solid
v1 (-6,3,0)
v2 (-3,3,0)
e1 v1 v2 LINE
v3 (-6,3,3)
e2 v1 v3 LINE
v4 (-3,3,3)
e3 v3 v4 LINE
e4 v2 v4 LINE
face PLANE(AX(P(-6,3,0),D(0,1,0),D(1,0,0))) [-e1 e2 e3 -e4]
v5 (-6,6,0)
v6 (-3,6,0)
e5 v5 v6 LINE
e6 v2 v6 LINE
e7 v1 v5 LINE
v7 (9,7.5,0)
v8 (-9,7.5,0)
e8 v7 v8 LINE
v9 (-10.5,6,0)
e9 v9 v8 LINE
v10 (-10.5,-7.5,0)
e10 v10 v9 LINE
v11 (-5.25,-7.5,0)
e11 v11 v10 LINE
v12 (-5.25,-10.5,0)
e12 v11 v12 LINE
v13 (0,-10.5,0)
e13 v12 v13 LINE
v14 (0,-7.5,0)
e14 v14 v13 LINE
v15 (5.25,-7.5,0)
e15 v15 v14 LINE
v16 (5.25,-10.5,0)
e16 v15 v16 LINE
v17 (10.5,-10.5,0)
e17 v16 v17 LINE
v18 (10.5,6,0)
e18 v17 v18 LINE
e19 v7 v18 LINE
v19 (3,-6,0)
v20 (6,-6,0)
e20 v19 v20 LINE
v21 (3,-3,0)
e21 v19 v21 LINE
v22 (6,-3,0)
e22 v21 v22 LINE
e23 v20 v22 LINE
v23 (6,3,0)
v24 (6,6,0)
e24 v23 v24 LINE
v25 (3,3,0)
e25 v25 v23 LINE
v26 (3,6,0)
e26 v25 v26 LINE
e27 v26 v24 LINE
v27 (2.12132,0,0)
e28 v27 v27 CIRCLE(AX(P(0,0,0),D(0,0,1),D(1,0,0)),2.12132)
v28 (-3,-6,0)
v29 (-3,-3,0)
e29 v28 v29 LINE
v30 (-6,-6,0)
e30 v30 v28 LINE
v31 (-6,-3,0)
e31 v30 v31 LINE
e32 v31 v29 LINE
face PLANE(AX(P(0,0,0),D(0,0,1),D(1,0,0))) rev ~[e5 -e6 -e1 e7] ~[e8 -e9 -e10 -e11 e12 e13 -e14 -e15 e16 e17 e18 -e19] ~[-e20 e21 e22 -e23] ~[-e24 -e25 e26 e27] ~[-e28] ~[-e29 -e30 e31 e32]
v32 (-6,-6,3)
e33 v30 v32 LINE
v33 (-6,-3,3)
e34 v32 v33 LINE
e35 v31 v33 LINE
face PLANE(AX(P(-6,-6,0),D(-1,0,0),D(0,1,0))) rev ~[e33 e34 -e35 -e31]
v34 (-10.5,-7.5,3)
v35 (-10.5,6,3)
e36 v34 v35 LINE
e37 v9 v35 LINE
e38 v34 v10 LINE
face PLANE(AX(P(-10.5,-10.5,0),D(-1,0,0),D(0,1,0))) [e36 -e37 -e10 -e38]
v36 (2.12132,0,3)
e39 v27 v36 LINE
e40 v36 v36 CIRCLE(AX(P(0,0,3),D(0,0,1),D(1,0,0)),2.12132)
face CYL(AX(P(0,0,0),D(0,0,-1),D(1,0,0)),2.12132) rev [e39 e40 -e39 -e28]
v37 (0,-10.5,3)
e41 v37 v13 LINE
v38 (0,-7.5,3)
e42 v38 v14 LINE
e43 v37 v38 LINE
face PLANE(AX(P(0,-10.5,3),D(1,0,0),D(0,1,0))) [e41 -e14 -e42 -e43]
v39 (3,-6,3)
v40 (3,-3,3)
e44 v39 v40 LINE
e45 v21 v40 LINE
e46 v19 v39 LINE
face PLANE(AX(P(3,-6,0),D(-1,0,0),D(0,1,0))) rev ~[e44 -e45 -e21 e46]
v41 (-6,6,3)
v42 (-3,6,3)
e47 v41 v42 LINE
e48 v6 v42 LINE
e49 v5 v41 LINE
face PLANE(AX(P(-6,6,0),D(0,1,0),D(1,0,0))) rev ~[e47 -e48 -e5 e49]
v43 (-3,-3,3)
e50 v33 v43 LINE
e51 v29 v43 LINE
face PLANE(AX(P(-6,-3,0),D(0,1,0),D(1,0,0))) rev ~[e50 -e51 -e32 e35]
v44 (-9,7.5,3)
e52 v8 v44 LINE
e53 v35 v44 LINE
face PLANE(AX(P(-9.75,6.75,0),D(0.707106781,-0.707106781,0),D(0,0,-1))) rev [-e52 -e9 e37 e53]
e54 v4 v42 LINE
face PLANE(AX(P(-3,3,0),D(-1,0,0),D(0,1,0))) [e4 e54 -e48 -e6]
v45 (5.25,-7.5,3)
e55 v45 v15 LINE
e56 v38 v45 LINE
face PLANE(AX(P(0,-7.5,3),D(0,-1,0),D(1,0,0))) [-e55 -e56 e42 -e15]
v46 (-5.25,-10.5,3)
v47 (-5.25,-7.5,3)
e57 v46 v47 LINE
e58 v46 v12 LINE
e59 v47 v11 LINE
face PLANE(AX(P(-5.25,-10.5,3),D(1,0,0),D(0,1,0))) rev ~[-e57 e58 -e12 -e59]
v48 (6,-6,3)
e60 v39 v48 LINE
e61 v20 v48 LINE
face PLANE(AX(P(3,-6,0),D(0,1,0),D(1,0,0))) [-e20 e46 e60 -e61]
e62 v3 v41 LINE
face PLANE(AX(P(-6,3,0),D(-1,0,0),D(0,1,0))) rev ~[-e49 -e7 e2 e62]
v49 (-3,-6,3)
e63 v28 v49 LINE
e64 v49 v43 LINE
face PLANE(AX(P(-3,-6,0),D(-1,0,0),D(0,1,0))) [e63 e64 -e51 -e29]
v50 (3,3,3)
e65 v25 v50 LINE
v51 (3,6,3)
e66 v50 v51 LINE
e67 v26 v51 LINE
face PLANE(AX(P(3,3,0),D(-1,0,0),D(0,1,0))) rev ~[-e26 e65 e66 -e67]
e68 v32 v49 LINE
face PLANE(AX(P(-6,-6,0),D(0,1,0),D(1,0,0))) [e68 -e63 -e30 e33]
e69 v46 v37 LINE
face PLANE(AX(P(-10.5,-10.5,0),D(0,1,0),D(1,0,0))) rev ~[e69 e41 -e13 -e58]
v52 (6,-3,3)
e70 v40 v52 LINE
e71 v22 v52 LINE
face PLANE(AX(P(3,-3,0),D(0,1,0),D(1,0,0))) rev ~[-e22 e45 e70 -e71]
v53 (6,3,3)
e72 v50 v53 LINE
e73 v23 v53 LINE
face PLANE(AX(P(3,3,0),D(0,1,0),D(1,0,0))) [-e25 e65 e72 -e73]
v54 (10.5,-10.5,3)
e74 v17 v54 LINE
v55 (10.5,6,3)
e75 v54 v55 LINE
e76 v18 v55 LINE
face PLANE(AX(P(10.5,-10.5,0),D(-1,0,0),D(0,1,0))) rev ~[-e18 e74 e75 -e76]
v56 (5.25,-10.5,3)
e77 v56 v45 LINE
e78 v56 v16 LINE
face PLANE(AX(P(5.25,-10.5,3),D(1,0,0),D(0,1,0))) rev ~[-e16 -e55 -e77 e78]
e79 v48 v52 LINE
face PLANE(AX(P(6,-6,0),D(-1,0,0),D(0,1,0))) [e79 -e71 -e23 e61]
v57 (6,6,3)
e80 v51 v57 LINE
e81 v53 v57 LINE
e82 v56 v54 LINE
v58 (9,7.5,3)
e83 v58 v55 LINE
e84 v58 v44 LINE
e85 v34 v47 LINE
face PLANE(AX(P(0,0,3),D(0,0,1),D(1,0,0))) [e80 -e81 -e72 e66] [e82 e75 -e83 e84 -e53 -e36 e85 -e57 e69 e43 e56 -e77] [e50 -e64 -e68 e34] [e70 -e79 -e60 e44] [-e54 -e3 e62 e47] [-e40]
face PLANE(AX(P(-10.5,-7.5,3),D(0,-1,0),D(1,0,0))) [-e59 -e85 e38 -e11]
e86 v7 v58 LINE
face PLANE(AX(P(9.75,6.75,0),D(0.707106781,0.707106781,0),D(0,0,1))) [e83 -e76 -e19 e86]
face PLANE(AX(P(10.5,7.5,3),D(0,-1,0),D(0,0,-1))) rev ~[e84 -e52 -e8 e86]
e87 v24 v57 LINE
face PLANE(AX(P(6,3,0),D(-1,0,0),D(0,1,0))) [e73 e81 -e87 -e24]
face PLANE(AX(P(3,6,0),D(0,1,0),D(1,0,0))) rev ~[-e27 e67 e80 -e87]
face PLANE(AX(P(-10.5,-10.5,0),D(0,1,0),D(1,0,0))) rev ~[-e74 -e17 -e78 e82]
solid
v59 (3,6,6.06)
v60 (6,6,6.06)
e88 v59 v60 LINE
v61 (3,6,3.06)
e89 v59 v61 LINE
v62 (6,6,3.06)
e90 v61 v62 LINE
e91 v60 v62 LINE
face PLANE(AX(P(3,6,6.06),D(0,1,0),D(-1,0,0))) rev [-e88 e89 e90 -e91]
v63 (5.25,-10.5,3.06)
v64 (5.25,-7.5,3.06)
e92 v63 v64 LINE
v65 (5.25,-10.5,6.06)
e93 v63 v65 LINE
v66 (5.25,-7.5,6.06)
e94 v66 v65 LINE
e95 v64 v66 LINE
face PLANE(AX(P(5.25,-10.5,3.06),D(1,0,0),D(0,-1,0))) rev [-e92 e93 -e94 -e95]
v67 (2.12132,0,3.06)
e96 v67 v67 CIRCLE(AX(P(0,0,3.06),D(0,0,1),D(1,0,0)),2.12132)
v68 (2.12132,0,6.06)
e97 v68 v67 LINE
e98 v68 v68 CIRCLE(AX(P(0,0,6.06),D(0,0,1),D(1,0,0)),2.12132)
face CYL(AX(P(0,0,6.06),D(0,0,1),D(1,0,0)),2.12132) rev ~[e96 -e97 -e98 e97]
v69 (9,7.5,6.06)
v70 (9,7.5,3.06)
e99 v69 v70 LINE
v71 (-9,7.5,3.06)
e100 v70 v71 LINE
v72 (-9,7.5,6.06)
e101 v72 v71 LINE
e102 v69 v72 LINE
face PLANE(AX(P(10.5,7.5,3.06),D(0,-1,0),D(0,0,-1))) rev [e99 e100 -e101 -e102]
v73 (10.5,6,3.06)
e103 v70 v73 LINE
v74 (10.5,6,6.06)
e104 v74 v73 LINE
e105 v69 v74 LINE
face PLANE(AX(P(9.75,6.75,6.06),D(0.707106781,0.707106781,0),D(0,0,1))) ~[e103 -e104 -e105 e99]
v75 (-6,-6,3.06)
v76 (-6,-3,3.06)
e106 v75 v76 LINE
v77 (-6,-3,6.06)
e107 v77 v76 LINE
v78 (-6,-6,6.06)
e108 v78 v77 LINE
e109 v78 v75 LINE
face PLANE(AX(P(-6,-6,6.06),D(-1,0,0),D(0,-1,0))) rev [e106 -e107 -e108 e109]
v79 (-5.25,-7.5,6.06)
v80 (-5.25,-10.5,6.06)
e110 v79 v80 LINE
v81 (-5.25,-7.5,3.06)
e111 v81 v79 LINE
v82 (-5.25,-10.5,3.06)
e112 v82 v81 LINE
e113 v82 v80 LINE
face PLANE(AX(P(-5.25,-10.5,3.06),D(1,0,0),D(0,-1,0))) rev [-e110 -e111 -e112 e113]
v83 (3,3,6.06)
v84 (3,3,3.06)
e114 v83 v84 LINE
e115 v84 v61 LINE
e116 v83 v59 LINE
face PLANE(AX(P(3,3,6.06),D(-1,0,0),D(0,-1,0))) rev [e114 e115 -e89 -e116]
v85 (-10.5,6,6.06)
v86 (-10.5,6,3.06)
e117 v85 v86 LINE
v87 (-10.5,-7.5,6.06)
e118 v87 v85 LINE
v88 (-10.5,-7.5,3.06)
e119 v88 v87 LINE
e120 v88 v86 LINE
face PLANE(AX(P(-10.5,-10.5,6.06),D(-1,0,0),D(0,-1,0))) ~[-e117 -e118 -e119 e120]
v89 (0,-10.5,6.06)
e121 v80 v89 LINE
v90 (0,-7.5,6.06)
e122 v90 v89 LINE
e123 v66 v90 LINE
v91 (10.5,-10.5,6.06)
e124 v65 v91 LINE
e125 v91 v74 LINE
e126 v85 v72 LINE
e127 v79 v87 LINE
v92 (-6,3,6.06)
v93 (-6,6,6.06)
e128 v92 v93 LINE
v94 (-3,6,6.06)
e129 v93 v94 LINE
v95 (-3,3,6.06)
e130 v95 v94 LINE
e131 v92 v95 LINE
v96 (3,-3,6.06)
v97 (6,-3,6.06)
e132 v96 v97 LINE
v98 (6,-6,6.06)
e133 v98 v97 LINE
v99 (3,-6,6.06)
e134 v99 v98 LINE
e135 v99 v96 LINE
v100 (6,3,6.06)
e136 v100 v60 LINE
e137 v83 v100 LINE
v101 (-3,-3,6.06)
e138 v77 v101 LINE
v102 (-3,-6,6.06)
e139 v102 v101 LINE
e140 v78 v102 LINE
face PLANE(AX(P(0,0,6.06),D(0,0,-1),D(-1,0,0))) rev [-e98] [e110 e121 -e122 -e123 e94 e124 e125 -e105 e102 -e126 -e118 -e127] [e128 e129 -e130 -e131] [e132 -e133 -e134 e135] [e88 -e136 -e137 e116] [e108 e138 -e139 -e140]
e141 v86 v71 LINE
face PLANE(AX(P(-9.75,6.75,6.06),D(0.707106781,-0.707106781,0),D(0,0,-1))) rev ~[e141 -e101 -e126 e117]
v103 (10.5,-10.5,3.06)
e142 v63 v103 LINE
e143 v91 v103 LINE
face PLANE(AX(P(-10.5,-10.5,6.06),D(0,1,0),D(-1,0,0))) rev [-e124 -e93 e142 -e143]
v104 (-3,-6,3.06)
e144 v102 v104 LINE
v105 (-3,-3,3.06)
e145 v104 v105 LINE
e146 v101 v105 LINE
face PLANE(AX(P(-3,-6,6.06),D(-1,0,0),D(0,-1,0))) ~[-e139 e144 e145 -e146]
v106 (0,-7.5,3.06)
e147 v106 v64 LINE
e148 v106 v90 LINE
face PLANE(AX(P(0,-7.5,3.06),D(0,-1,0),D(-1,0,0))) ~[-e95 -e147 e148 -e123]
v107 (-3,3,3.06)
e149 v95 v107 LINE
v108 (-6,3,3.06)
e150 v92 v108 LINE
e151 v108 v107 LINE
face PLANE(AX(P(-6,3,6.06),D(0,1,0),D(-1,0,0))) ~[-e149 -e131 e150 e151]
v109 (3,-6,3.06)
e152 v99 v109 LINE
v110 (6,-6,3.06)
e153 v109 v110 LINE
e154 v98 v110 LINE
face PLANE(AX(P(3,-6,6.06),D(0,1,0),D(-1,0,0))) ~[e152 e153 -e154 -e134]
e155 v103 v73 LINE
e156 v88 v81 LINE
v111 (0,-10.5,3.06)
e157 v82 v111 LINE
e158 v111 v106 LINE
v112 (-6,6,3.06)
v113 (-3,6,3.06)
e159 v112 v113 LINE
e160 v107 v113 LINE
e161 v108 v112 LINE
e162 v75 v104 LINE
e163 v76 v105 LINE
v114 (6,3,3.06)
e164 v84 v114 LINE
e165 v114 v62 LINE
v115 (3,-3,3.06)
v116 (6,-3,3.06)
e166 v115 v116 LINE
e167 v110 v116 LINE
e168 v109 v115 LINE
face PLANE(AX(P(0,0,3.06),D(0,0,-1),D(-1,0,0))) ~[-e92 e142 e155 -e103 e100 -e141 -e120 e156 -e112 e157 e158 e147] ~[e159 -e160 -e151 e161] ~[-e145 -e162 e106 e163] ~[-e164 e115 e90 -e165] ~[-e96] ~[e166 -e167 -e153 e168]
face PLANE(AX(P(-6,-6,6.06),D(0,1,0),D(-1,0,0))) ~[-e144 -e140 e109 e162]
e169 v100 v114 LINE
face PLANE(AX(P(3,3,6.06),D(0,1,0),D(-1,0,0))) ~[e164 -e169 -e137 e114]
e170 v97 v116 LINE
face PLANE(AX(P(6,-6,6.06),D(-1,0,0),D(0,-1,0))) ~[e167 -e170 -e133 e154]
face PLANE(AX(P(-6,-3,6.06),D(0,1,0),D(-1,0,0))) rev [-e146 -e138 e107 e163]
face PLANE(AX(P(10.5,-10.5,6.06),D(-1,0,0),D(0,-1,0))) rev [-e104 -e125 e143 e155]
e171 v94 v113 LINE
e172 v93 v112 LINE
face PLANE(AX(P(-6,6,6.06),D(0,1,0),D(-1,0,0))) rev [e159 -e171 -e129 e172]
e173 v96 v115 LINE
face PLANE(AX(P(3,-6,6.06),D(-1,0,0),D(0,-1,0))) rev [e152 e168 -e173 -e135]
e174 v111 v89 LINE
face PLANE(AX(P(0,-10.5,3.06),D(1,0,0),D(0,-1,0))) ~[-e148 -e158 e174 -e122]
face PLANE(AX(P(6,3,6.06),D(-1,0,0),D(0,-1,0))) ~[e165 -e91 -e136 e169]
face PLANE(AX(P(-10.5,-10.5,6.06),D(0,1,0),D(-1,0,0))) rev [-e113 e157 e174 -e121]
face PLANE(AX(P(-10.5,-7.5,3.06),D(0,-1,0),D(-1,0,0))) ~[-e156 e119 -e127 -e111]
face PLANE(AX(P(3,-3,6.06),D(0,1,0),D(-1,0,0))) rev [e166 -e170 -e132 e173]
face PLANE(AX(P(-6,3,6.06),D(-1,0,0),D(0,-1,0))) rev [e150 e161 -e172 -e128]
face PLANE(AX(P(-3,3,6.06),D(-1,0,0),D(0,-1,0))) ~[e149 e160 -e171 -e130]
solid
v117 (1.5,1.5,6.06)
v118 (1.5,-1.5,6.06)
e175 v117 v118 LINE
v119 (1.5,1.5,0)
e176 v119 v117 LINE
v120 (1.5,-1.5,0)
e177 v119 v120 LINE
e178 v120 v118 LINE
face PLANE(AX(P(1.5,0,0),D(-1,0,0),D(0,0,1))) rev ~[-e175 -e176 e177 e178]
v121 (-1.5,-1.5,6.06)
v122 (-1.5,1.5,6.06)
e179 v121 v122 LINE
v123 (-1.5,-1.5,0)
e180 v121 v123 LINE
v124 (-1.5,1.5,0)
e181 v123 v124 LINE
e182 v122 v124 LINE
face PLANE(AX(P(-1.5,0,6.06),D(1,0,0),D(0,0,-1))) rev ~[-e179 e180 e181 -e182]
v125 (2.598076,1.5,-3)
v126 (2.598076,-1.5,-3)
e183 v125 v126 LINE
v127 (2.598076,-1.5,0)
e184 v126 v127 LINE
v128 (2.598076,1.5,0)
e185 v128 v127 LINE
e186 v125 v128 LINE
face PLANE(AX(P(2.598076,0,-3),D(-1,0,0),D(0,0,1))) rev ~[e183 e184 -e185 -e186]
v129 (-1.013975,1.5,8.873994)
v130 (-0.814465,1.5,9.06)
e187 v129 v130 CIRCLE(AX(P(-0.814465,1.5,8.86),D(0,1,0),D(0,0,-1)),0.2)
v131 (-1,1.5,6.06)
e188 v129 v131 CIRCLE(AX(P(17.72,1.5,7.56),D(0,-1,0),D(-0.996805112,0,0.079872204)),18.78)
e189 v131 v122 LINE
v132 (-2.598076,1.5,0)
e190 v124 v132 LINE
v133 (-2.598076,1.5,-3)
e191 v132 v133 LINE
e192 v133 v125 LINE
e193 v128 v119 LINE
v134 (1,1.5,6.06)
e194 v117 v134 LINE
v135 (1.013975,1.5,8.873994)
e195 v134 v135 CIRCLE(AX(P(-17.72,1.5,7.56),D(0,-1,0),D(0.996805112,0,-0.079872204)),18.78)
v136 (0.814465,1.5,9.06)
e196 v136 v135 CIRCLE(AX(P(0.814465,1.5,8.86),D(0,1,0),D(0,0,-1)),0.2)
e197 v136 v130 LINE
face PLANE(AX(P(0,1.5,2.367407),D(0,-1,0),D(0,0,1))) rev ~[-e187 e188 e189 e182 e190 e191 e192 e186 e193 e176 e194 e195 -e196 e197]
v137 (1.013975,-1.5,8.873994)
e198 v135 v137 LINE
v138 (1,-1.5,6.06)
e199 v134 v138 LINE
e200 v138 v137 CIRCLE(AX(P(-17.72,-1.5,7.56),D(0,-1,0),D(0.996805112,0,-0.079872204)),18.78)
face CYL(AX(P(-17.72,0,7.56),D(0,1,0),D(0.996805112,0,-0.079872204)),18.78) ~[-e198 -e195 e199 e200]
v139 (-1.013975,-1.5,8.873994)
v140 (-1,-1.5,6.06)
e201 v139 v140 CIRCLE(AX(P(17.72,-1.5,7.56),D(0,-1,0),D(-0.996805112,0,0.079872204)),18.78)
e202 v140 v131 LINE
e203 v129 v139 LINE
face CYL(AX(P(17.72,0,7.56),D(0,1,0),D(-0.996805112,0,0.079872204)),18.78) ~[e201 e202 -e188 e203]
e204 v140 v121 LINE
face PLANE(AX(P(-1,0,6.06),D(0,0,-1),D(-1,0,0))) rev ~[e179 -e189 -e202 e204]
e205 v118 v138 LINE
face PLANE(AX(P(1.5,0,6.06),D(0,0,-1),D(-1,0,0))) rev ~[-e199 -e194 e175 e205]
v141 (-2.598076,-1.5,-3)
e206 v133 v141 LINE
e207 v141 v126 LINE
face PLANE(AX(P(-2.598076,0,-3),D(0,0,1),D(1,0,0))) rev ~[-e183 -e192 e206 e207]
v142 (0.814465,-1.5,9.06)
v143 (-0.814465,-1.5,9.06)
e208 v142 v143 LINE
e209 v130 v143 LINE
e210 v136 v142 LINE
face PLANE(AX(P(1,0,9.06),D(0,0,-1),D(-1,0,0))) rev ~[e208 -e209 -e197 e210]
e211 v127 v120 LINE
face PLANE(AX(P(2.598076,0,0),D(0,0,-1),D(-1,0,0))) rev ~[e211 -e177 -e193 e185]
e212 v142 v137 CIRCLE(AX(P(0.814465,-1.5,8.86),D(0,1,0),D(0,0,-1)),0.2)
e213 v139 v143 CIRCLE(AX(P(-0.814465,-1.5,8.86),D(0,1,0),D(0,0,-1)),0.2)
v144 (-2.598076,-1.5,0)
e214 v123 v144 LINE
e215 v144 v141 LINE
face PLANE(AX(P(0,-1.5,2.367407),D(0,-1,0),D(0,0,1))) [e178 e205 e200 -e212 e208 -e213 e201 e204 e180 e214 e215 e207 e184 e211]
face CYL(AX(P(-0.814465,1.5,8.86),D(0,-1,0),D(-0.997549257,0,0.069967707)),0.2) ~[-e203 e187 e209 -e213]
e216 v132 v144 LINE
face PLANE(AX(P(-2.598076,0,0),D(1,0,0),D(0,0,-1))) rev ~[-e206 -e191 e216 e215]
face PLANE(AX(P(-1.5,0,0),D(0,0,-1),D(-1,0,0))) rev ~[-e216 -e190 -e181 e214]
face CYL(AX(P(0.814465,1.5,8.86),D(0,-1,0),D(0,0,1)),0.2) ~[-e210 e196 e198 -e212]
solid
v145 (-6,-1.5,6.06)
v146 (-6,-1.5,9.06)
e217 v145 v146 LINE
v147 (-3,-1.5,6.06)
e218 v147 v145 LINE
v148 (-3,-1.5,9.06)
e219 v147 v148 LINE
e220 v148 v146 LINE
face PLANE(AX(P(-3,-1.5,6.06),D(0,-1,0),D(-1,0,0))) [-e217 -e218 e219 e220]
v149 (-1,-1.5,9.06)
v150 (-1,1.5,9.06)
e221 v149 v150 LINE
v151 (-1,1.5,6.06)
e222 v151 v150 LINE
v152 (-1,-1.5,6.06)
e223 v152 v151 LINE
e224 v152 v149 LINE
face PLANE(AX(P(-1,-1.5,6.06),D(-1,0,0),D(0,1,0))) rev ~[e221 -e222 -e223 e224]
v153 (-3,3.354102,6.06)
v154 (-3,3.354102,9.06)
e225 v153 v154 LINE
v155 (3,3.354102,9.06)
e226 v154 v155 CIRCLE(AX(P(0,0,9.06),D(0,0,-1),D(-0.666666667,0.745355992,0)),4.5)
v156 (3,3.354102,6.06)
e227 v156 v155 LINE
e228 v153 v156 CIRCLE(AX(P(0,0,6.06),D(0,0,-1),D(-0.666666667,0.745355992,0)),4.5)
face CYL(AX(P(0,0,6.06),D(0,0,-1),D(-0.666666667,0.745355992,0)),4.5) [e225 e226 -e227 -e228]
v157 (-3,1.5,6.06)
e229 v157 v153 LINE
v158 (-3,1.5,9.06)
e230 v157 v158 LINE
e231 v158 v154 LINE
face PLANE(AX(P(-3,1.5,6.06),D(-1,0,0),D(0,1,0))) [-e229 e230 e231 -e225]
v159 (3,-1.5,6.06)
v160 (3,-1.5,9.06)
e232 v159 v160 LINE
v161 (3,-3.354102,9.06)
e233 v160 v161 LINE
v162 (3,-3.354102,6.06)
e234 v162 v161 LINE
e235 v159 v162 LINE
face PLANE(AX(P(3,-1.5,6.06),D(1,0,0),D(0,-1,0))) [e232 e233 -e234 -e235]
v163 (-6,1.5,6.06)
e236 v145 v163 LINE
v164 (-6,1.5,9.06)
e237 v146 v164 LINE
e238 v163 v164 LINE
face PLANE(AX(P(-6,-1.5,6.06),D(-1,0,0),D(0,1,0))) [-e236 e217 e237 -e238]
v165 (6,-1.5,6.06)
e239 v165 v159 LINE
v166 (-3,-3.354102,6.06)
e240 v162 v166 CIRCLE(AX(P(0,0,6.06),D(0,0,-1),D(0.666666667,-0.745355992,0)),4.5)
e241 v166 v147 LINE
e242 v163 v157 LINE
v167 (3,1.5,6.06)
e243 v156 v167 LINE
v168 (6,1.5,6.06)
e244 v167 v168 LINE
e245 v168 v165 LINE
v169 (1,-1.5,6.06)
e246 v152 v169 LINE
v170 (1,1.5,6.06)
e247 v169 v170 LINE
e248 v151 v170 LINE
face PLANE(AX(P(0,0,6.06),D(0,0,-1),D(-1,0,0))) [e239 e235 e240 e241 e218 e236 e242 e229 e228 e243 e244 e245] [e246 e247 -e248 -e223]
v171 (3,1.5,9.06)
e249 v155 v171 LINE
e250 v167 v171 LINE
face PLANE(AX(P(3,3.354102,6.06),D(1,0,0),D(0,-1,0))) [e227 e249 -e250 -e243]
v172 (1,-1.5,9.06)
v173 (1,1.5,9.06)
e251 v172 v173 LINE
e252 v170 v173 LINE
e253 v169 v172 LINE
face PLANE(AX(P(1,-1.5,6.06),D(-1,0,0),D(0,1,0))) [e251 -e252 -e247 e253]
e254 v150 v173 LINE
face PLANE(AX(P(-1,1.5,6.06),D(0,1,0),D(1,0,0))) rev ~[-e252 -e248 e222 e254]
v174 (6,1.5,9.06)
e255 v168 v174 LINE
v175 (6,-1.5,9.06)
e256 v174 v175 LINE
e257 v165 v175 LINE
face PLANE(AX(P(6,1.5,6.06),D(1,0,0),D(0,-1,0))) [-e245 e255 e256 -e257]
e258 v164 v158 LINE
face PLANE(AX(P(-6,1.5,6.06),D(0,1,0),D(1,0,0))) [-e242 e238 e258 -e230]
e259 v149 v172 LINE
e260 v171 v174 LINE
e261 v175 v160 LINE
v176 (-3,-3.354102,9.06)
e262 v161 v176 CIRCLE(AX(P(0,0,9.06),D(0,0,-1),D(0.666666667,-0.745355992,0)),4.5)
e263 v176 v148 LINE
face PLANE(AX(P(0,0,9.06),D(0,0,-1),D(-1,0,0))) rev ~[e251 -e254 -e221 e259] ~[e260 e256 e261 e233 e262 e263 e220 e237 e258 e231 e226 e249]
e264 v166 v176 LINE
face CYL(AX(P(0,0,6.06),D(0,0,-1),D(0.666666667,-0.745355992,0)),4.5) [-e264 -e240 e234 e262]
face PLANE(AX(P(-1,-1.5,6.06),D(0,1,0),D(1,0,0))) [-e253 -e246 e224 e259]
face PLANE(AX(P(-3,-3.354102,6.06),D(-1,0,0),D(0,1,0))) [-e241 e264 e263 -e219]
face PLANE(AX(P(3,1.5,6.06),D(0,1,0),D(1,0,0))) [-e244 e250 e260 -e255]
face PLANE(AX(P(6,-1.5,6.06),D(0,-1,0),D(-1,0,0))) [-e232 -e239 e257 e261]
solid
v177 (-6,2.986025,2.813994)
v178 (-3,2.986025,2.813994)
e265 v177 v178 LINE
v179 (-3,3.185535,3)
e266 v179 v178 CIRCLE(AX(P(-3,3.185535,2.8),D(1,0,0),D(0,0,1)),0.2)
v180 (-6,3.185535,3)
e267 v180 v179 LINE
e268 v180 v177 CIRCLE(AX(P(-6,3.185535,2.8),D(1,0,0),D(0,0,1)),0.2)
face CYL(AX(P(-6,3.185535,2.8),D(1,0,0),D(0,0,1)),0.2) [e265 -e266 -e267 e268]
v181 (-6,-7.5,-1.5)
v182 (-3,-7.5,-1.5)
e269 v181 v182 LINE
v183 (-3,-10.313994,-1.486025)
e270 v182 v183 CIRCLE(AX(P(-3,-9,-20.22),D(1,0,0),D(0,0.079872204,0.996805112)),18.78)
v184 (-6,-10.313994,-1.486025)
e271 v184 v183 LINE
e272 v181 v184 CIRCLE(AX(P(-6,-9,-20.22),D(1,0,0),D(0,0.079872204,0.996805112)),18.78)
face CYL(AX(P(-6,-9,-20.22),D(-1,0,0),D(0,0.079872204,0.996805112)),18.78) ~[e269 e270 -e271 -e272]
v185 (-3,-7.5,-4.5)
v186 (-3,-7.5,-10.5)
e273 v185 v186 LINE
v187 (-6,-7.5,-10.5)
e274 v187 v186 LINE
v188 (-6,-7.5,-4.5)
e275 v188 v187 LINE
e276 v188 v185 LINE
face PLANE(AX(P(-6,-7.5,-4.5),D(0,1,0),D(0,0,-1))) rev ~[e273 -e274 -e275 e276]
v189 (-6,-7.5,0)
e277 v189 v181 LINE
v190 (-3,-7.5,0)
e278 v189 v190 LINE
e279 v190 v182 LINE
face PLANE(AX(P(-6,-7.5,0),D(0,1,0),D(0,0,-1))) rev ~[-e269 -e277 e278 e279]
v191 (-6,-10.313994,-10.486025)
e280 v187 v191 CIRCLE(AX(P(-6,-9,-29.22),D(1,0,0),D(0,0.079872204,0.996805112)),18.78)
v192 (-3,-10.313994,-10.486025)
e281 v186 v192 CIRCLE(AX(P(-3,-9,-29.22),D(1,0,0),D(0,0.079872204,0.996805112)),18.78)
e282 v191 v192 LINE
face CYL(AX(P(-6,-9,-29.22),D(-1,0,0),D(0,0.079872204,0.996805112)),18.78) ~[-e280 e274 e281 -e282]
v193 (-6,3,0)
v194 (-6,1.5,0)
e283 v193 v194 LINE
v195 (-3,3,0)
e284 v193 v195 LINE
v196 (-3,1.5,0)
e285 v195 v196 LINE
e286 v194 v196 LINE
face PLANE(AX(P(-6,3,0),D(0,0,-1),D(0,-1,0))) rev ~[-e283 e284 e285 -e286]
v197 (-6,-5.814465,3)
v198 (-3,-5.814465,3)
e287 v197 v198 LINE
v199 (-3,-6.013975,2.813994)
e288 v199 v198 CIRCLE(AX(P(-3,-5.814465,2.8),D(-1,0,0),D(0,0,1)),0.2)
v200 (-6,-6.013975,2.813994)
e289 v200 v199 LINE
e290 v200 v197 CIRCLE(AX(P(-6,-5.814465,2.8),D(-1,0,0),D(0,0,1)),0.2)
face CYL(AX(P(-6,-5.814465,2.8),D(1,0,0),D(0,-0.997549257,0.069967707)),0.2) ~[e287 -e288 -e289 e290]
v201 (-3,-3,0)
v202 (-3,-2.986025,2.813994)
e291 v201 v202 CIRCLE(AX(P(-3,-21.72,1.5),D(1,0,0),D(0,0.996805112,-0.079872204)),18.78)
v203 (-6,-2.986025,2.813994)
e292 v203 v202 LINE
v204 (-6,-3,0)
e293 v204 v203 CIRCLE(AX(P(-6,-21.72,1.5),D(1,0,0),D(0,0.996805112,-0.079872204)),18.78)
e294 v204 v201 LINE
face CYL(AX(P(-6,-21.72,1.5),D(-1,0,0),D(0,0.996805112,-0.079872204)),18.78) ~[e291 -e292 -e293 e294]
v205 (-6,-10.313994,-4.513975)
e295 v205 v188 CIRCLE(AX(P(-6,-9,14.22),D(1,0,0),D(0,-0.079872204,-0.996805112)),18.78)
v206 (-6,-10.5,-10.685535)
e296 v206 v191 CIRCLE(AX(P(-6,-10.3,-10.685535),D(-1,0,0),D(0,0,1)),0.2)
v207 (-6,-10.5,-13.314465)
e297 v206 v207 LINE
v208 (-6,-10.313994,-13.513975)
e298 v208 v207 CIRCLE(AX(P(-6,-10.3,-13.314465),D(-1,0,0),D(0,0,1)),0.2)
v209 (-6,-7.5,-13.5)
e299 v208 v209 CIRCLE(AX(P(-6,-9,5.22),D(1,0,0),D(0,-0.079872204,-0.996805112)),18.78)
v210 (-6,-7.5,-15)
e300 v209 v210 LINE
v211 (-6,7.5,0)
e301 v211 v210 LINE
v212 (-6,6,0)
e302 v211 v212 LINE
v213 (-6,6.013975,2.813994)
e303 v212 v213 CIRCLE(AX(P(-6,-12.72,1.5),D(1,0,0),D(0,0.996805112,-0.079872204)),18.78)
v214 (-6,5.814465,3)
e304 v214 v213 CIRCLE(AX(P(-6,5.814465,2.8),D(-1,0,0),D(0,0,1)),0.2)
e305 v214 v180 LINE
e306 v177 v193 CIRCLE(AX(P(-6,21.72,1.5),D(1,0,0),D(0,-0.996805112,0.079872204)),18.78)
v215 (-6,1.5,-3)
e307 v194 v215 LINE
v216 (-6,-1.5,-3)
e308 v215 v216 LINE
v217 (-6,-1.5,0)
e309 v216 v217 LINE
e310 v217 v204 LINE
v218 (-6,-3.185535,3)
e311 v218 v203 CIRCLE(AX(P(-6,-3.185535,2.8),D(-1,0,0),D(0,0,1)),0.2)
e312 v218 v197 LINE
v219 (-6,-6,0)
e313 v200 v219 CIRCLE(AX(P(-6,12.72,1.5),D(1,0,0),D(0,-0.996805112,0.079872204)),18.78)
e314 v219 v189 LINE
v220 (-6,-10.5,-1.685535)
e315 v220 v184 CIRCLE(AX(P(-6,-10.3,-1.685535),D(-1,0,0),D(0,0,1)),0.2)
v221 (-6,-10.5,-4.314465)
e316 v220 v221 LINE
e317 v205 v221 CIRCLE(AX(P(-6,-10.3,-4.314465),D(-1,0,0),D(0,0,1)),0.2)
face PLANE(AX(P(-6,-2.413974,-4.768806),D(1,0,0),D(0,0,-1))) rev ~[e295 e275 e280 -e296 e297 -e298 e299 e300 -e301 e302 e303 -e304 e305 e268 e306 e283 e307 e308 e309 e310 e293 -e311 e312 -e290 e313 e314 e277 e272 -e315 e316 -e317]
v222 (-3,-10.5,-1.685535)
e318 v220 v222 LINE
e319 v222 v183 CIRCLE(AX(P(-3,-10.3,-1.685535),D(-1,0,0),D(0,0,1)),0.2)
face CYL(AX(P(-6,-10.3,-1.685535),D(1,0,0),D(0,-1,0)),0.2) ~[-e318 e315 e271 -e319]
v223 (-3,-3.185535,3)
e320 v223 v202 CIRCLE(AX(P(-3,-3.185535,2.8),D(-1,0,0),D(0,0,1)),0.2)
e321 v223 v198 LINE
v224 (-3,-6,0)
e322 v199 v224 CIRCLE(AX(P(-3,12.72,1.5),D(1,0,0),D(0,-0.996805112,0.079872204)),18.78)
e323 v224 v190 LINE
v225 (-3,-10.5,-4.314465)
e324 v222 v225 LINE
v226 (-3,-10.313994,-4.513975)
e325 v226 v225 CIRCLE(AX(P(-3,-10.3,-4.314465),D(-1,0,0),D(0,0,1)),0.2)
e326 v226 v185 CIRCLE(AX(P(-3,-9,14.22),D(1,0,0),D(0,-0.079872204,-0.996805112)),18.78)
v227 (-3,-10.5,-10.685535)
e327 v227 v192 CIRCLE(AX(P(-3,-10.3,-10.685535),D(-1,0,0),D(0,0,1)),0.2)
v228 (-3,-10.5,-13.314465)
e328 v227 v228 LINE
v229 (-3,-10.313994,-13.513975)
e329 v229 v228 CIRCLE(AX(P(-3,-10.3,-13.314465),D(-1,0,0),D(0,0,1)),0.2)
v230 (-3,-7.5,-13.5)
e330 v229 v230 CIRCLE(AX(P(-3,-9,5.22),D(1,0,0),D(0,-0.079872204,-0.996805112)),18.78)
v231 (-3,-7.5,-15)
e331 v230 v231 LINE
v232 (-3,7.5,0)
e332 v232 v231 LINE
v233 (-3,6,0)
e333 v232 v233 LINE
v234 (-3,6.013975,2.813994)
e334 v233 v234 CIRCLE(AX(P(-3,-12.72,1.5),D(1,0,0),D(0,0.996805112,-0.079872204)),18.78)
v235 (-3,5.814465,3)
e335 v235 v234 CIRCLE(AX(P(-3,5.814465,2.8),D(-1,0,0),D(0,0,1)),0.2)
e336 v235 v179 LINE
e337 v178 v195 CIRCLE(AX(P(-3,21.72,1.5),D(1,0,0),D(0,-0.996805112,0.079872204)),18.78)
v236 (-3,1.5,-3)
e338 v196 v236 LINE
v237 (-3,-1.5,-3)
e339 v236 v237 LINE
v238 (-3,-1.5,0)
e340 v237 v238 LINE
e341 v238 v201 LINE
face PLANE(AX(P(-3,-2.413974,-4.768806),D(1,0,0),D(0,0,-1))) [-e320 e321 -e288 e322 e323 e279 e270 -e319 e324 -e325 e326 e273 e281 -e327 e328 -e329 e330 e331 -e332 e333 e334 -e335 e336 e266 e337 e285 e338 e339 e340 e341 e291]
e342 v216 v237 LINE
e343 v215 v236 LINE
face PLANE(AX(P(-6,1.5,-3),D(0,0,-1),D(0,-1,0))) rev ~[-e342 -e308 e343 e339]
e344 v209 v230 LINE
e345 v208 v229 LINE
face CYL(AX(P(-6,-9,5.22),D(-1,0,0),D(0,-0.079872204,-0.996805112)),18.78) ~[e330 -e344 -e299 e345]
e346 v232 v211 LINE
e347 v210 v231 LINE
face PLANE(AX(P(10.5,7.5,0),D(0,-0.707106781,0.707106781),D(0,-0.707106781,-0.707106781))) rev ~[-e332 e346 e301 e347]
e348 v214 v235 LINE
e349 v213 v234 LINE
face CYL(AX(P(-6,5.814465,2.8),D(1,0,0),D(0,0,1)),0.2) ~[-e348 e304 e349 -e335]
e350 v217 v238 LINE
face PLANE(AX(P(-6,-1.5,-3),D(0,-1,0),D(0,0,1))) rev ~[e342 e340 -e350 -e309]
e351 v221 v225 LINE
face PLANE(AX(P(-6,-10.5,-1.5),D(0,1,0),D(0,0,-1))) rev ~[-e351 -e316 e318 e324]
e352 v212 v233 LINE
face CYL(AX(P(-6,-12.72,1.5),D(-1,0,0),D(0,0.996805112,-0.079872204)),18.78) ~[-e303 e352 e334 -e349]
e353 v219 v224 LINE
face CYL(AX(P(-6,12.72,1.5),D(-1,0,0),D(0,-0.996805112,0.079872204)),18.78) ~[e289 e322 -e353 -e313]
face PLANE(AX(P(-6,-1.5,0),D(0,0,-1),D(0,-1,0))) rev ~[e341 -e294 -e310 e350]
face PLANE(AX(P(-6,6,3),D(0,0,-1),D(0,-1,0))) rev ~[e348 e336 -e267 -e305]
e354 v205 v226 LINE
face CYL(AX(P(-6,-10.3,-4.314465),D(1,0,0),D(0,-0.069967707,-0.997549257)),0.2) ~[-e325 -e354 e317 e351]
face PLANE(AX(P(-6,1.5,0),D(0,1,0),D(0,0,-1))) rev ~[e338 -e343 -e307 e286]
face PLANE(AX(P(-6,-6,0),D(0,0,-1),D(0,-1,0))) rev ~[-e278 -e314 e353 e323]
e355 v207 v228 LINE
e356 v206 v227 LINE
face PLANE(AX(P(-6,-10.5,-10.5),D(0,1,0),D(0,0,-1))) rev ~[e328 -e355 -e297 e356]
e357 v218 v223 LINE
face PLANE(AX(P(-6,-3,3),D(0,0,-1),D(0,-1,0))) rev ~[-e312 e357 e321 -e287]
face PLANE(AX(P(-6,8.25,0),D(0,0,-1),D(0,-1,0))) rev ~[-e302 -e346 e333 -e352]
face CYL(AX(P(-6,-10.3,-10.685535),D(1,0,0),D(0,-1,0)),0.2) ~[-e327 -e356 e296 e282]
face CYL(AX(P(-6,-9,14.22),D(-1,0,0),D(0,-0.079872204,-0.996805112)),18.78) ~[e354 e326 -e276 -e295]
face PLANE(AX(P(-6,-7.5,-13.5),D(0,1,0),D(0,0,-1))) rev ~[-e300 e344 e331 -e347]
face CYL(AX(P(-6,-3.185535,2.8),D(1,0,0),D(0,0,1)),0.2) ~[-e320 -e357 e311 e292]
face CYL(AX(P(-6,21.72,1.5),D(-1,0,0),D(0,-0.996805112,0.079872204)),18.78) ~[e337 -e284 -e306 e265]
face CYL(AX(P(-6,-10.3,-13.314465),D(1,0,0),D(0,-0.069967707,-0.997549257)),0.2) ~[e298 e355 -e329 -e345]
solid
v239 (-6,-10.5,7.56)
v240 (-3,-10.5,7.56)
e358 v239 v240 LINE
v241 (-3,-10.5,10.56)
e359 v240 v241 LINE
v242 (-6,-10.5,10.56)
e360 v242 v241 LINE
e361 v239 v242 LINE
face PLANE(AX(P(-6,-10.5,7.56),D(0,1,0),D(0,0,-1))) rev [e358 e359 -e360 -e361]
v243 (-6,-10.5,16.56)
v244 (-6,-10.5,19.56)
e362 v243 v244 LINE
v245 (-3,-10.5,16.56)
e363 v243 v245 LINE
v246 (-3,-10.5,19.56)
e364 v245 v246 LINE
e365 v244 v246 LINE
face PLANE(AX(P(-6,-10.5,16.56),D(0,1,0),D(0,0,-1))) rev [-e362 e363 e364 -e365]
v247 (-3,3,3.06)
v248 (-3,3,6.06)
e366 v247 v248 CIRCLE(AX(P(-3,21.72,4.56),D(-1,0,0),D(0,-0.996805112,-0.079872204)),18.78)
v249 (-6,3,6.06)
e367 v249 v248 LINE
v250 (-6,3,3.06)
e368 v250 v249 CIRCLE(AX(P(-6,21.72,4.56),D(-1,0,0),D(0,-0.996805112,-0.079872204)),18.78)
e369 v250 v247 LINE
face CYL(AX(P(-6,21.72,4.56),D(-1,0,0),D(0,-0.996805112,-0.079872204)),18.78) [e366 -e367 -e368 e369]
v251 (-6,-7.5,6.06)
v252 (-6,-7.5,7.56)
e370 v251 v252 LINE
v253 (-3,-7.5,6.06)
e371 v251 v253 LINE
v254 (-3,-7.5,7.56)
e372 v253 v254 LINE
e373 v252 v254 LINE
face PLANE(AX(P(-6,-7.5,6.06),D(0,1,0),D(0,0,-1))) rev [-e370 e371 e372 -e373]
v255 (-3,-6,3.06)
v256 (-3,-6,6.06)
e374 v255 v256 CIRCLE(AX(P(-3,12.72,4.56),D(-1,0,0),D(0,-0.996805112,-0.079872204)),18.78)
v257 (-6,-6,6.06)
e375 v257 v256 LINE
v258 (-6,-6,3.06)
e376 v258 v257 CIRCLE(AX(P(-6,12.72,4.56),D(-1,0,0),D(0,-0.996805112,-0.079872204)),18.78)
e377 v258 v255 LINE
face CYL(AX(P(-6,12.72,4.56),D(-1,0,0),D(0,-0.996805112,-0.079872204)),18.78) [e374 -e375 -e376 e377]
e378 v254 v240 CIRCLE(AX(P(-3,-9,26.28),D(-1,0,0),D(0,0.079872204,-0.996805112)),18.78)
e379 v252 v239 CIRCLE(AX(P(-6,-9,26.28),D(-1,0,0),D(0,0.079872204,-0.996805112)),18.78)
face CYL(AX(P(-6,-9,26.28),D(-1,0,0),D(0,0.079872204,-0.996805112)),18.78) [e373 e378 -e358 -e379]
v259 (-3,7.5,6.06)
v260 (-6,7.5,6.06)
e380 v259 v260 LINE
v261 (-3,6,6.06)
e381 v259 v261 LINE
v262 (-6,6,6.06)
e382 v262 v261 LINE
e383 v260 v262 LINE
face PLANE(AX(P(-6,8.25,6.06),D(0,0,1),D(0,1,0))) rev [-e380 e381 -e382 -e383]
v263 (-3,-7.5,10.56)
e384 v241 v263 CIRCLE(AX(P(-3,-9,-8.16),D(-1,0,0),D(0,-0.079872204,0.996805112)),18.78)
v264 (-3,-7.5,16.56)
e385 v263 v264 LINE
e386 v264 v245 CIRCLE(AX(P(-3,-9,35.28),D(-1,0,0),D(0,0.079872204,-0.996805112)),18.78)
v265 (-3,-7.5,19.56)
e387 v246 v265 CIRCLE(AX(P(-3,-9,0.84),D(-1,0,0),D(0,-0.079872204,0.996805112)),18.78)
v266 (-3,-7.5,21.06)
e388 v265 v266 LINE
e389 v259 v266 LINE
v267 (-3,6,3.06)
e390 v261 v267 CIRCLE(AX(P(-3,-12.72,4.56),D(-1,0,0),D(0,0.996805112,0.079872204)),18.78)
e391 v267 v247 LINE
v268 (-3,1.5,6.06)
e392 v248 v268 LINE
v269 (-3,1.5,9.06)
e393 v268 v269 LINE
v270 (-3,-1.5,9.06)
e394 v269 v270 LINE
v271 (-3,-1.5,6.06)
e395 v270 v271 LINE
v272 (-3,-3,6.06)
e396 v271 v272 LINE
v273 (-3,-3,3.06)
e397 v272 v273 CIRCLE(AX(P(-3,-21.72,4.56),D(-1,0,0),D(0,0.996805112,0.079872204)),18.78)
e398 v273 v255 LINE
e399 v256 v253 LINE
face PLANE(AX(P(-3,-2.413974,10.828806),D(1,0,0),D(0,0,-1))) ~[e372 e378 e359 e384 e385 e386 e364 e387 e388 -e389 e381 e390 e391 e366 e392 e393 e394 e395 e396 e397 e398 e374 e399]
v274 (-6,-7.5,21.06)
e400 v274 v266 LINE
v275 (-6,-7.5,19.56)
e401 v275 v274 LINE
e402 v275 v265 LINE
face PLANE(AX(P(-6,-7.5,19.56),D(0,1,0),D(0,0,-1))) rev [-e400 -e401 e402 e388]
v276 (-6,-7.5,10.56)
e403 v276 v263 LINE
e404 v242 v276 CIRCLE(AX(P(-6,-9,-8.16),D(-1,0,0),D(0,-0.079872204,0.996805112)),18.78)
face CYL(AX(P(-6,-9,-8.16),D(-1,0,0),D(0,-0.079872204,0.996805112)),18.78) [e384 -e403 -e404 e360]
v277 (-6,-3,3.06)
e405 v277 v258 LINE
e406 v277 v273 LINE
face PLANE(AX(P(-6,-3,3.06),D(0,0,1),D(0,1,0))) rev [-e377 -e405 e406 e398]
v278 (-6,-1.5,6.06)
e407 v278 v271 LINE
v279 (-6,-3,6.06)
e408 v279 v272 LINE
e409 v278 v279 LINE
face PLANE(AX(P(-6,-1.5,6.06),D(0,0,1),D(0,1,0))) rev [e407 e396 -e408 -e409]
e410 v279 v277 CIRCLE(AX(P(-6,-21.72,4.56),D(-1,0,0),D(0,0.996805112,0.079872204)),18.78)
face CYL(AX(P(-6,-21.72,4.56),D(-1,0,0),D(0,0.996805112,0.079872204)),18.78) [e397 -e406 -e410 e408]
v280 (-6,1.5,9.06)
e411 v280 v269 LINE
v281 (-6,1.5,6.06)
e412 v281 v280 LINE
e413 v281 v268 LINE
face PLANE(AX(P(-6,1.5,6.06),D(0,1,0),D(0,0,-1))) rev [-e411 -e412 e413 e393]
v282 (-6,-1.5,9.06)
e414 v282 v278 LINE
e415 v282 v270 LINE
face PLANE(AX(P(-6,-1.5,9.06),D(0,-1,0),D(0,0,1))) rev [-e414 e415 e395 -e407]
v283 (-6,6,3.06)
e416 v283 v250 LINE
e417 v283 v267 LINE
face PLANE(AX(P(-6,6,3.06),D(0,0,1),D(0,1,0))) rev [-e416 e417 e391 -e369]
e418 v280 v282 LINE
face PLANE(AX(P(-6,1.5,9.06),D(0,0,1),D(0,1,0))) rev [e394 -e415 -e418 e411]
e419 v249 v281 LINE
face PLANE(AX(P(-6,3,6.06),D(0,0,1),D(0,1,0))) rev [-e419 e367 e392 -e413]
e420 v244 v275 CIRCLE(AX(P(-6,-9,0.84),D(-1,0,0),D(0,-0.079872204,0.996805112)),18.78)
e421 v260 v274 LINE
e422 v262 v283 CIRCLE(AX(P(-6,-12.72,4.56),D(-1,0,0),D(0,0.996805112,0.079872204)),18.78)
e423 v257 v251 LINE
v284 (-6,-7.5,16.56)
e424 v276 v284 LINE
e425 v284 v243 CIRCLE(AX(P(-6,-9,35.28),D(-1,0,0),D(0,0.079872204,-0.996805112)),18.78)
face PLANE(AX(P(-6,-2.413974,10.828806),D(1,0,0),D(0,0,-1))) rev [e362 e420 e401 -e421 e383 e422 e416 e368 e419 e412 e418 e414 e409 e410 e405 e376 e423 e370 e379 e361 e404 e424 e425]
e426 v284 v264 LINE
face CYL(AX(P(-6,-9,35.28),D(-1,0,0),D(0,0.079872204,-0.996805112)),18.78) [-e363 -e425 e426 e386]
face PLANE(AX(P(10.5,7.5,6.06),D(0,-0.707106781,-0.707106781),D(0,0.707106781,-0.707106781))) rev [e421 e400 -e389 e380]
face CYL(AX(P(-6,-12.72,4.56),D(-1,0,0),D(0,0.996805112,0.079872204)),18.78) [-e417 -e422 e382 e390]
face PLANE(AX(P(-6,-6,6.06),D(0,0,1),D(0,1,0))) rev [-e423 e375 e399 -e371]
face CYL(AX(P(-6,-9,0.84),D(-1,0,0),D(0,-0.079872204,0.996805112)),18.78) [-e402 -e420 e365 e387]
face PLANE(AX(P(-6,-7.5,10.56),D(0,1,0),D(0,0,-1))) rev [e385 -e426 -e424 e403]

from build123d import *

# Parameters (mm, degrees)
SCHIZZO1_W                    = 21
SCHIZZO1_H                    = 21
SCHIZZO1_R                    = 2.121320344
SCHIZZO1_W_2                  = 3
SCHIZZO1_H_2                  = 3
ESTRUSIONE_ESTRUSIONE1_DEPTH  = 3
TAGLIO_ESTRUSIONE1_REACH      = 5
SCHIZZO6_W                    = 5.25
SCHIZZO6_H                    = 3
ESTRUSIONE_ESTRUSIONE2_DEPTH  = 3
ESTRUSIONE_ESTRUSIONE4_DEPTH  = 1.5
TAGLIO_ESTRUSIONE2_DEPTH      = 1
TAGLIO_ESTRUSIONE2_DEPTH_BACK = 22
SMUSSO1_SIZE                  = 1.5
SCHIZZO5_W                    = 2
SCHIZZO5_H                    = 3
ESTRUSIONE_ESTRUSIONE5_DEPTH  = 3
RACCORDO1_R                   = 0.2
RACCORDO2_R                   = 0.2


with BuildPart() as part:
    # Schizzo1 → Estrusione-Estrusione1 (new body)
    with BuildSketch(Plane.XY):
        Rectangle(SCHIZZO1_W, SCHIZZO1_H)
        Circle(SCHIZZO1_R, mode=Mode.SUBTRACT)
        with Locations((-4.5, 4.5)):
            Rectangle(SCHIZZO1_W_2, SCHIZZO1_H_2, mode=Mode.SUBTRACT)
        with Locations((-4.5, -4.5)):
            Rectangle(SCHIZZO1_W_2, SCHIZZO1_H_2, mode=Mode.SUBTRACT)
        with Locations((4.5, -4.5)):
            Rectangle(SCHIZZO1_W_2, SCHIZZO1_H_2, mode=Mode.SUBTRACT)
        with Locations((4.5, 4.5)):
            Rectangle(SCHIZZO1_W_2, SCHIZZO1_H_2, mode=Mode.SUBTRACT)
    extrude(amount=ESTRUSIONE_ESTRUSIONE1_DEPTH)

    # Schizzo6 → Taglio-Estrusione1 (cut, up to next)
    with BuildSketch(Plane.XY.offset(3), mode=Mode.PRIVATE) as taglio_estrusione1_sk1:
        with Locations((-7.875, -9)):
            Rectangle(SCHIZZO6_W, SCHIZZO6_H)
    taglio_estrusione1_tool1 = extrude(taglio_estrusione1_sk1.sketch, amount=-TAGLIO_ESTRUSIONE1_REACH, mode=Mode.PRIVATE) & part.part
    add(taglio_estrusione1_tool1.solids().sort_by_distance((-7.875, -9, 3))[0], mode=Mode.SUBTRACT)
    # Schizzo6 → Taglio-Estrusione1 (cut, up to next)
    with BuildSketch(Plane.XY.offset(3), mode=Mode.PRIVATE) as taglio_estrusione1_sk2:
        with Locations((2.625, -9)):
            Rectangle(SCHIZZO6_W, SCHIZZO6_H)
    taglio_estrusione1_tool2 = extrude(taglio_estrusione1_sk2.sketch, amount=-TAGLIO_ESTRUSIONE1_REACH, mode=Mode.PRIVATE) & part.part
    add(taglio_estrusione1_tool2.solids().sort_by_distance((2.625, -9, 3))[0], mode=Mode.SUBTRACT)


with BuildPart() as body_2:
    # Schizzo2 → Estrusione-Estrusione2 (new body)
    with BuildSketch(Plane(origin=(-6, 0, 0), x_dir=(0, 0, -1), z_dir=(1, 0, 0))):
        with BuildLine():
            Line((-3, 6), (-3, 3))
            ThreePointArc((-3, 3), (-1.5, 2.94), (0, 3))
            Line((0, 3), (0, 1.5))
            Line((0, 1.5), (3, 1.5))
            Line((3, 1.5), (3, -1.5))
            Line((3, -1.5), (0, -1.5))
            Line((0, -1.5), (0, -3))
            ThreePointArc((0, -3), (-1.5, -2.94), (-3, -3))
            Line((-3, -3), (-3, -6))
            ThreePointArc((-3, -6), (-1.5, -6.06), (0, -6))
            Line((0, -6), (0, -7.5))
            Line((0, -7.5), (1.5, -7.5))
            ThreePointArc((1.5, -7.5), (1.44, -9), (1.5, -10.5))
            Line((1.5, -10.5), (4.5, -10.5))
            ThreePointArc((4.5, -10.5), (4.56, -9), (4.5, -7.5))
            Line((4.5, -7.5), (10.5, -7.5))
            ThreePointArc((10.5, -7.5), (10.44, -9), (10.5, -10.5))
            Line((10.5, -10.5), (13.5, -10.5))
            ThreePointArc((13.5, -10.5), (13.56, -9), (13.5, -7.5))
            Line((13.5, -7.5), (15.75, -7.5))
            Line((15.75, -7.5), (15.75, -5.25))
            Line((15.75, -5.25), (2.25, 8.25))
            Line((2.25, 8.25), (0, 8.25))
            Line((0, 8.25), (0, 6))
            ThreePointArc((0, 6), (-1.5, 6.06), (-3, 6))
        make_face()
    extrude(amount=ESTRUSIONE_ESTRUSIONE2_DEPTH)


with BuildPart() as body_3:
    # Schizzo4 → Estrusione-Estrusione4 (new body, symmetric)
    with BuildSketch(Plane(origin=(0, 0, 0), x_dir=(0, 0, -1), z_dir=(0, 1, 0))):
        with BuildLine():
            Line((0, 1.5), (0, 2.598076211))
            Line((0, 2.598076211), (3, 2.598076211))
            Line((3, 2.598076211), (3, -2.598076211))
            Line((3, -2.598076211), (0, -2.598076211))
            Line((0, -2.598076211), (0, -1.5))
            Line((0, -1.5), (-6.06, -1.5))
            Line((-6.06, -1.5), (-6.06, -1))
            ThreePointArc((-6.06, -1), (-7.56, -1.06), (-9.06, -1))
            Line((-9.06, -1), (-9.06, 1))
            ThreePointArc((-9.06, 1), (-7.56, 1.06), (-6.06, 1))
            Line((-6.06, 1), (-6.06, 1.5))
            Line((-6.06, 1.5), (0, 1.5))
        make_face()
    extrude(amount=ESTRUSIONE_ESTRUSIONE4_DEPTH, both=True)

    # Raccordo1
    raccordo1_edges = [body_3.edges().sort_by_distance(p)[0] for p in [
        (1, 0, 9.06),
        (-1, 0, 9.06),
    ]]
    fillet(raccordo1_edges, radius=RACCORDO1_R)


with BuildPart() as taglio_estrusione2_tool:
    # Schizzo8 → Taglio-Estrusione2 (new body, two sides)
    with BuildSketch(Plane(origin=(10.5, 0, 0), x_dir=(0, 0, -1), z_dir=(1, 0, 0))) as taglio_estrusione2_sk:
        Polygon((0, 7.5), (18, -10.5), (18, -7.5), (0, 10.5), (-3, 10.5), (-3, 7.5), align=None)
    extrude(amount=TAGLIO_ESTRUSIONE2_DEPTH)
    extrude(taglio_estrusione2_sk.sketch, amount=-TAGLIO_ESTRUSIONE2_DEPTH_BACK)


with BuildPart() as part_1:
    add(part.part)

    # Taglio-Estrusione2: cut by taglio_estrusione2_tool
    add(taglio_estrusione2_tool.part, mode=Mode.SUBTRACT)

    # Smusso1
    smusso1_edges = [part_1.edges().sort_by_distance(p)[0] for p in [
        (10.5, 7.5, 1.5),
        (-10.5, 7.5, 1.5),
    ]]
    chamfer(smusso1_edges, length=SMUSSO1_SIZE)


with BuildPart() as body_2_1:
    add(body_2.part)

    # Taglio-Estrusione2: cut by taglio_estrusione2_tool
    add(taglio_estrusione2_tool.part, mode=Mode.SUBTRACT)


with BuildPart() as body_4:
    # Schizzo5 → Estrusione-Estrusione5 (new body)
    with BuildSketch(Plane.XY.offset(6.06)):
        with BuildLine():
            Line((-3, -3.354101966), (-3, -1.5))
            Line((-3, -1.5), (-6, -1.5))
            Line((-6, -1.5), (-6, 1.5))
            Line((-6, 1.5), (-3, 1.5))
            Line((-3, 1.5), (-3, 3.354101966))
            ThreePointArc((-3, 3.354101966), (0, 4.5), (3, 3.354101966))
            Line((3, 3.354101966), (3, 1.5))
            Line((3, 1.5), (6, 1.5))
            Line((6, 1.5), (6, -1.5))
            Line((6, -1.5), (3, -1.5))
            Line((3, -1.5), (3, -3.354101966))
            ThreePointArc((3, -3.354101966), (0, -4.5), (-3, -3.354101966))
        make_face()
        Rectangle(SCHIZZO5_W, SCHIZZO5_H, mode=Mode.SUBTRACT)
    extrude(amount=ESTRUSIONE_ESTRUSIONE5_DEPTH)


with BuildPart() as body_5:
    # Specchia1: mirrored copy
    add(part_1.part.mirror(Plane(origin=(0, 0, 3.03), x_dir=(1, 0, 0), z_dir=(0, 0, -1))))


with BuildPart() as body_6:
    # Specchia1 2: mirrored copy
    add(body_2_1.part.mirror(Plane(origin=(0, 0, 3.03), x_dir=(1, 0, 0), z_dir=(0, 0, -1))))


with BuildPart() as body_2_2:
    add(body_2_1.part)

    # Raccordo2
    raccordo2_edges = [body_2_2.edges().sort_by_distance(p)[0] for p in [
        (-4.5, -10.5, -13.5),
        (-4.5, -10.5, -10.5),
        (-4.5, -10.5, -4.5),
        (-4.5, -10.5, -1.5),
        (-4.5, -6, 3),
        (-4.5, -3, 3),
        (-4.5, 3, 3),
        (-4.5, 6, 3),
    ]]
    fillet(raccordo2_edges, radius=RACCORDO2_R)


solid = Compound([body_3.part, part_1.part, body_4.part, body_5.part, body_6.part, body_2_2.part])
